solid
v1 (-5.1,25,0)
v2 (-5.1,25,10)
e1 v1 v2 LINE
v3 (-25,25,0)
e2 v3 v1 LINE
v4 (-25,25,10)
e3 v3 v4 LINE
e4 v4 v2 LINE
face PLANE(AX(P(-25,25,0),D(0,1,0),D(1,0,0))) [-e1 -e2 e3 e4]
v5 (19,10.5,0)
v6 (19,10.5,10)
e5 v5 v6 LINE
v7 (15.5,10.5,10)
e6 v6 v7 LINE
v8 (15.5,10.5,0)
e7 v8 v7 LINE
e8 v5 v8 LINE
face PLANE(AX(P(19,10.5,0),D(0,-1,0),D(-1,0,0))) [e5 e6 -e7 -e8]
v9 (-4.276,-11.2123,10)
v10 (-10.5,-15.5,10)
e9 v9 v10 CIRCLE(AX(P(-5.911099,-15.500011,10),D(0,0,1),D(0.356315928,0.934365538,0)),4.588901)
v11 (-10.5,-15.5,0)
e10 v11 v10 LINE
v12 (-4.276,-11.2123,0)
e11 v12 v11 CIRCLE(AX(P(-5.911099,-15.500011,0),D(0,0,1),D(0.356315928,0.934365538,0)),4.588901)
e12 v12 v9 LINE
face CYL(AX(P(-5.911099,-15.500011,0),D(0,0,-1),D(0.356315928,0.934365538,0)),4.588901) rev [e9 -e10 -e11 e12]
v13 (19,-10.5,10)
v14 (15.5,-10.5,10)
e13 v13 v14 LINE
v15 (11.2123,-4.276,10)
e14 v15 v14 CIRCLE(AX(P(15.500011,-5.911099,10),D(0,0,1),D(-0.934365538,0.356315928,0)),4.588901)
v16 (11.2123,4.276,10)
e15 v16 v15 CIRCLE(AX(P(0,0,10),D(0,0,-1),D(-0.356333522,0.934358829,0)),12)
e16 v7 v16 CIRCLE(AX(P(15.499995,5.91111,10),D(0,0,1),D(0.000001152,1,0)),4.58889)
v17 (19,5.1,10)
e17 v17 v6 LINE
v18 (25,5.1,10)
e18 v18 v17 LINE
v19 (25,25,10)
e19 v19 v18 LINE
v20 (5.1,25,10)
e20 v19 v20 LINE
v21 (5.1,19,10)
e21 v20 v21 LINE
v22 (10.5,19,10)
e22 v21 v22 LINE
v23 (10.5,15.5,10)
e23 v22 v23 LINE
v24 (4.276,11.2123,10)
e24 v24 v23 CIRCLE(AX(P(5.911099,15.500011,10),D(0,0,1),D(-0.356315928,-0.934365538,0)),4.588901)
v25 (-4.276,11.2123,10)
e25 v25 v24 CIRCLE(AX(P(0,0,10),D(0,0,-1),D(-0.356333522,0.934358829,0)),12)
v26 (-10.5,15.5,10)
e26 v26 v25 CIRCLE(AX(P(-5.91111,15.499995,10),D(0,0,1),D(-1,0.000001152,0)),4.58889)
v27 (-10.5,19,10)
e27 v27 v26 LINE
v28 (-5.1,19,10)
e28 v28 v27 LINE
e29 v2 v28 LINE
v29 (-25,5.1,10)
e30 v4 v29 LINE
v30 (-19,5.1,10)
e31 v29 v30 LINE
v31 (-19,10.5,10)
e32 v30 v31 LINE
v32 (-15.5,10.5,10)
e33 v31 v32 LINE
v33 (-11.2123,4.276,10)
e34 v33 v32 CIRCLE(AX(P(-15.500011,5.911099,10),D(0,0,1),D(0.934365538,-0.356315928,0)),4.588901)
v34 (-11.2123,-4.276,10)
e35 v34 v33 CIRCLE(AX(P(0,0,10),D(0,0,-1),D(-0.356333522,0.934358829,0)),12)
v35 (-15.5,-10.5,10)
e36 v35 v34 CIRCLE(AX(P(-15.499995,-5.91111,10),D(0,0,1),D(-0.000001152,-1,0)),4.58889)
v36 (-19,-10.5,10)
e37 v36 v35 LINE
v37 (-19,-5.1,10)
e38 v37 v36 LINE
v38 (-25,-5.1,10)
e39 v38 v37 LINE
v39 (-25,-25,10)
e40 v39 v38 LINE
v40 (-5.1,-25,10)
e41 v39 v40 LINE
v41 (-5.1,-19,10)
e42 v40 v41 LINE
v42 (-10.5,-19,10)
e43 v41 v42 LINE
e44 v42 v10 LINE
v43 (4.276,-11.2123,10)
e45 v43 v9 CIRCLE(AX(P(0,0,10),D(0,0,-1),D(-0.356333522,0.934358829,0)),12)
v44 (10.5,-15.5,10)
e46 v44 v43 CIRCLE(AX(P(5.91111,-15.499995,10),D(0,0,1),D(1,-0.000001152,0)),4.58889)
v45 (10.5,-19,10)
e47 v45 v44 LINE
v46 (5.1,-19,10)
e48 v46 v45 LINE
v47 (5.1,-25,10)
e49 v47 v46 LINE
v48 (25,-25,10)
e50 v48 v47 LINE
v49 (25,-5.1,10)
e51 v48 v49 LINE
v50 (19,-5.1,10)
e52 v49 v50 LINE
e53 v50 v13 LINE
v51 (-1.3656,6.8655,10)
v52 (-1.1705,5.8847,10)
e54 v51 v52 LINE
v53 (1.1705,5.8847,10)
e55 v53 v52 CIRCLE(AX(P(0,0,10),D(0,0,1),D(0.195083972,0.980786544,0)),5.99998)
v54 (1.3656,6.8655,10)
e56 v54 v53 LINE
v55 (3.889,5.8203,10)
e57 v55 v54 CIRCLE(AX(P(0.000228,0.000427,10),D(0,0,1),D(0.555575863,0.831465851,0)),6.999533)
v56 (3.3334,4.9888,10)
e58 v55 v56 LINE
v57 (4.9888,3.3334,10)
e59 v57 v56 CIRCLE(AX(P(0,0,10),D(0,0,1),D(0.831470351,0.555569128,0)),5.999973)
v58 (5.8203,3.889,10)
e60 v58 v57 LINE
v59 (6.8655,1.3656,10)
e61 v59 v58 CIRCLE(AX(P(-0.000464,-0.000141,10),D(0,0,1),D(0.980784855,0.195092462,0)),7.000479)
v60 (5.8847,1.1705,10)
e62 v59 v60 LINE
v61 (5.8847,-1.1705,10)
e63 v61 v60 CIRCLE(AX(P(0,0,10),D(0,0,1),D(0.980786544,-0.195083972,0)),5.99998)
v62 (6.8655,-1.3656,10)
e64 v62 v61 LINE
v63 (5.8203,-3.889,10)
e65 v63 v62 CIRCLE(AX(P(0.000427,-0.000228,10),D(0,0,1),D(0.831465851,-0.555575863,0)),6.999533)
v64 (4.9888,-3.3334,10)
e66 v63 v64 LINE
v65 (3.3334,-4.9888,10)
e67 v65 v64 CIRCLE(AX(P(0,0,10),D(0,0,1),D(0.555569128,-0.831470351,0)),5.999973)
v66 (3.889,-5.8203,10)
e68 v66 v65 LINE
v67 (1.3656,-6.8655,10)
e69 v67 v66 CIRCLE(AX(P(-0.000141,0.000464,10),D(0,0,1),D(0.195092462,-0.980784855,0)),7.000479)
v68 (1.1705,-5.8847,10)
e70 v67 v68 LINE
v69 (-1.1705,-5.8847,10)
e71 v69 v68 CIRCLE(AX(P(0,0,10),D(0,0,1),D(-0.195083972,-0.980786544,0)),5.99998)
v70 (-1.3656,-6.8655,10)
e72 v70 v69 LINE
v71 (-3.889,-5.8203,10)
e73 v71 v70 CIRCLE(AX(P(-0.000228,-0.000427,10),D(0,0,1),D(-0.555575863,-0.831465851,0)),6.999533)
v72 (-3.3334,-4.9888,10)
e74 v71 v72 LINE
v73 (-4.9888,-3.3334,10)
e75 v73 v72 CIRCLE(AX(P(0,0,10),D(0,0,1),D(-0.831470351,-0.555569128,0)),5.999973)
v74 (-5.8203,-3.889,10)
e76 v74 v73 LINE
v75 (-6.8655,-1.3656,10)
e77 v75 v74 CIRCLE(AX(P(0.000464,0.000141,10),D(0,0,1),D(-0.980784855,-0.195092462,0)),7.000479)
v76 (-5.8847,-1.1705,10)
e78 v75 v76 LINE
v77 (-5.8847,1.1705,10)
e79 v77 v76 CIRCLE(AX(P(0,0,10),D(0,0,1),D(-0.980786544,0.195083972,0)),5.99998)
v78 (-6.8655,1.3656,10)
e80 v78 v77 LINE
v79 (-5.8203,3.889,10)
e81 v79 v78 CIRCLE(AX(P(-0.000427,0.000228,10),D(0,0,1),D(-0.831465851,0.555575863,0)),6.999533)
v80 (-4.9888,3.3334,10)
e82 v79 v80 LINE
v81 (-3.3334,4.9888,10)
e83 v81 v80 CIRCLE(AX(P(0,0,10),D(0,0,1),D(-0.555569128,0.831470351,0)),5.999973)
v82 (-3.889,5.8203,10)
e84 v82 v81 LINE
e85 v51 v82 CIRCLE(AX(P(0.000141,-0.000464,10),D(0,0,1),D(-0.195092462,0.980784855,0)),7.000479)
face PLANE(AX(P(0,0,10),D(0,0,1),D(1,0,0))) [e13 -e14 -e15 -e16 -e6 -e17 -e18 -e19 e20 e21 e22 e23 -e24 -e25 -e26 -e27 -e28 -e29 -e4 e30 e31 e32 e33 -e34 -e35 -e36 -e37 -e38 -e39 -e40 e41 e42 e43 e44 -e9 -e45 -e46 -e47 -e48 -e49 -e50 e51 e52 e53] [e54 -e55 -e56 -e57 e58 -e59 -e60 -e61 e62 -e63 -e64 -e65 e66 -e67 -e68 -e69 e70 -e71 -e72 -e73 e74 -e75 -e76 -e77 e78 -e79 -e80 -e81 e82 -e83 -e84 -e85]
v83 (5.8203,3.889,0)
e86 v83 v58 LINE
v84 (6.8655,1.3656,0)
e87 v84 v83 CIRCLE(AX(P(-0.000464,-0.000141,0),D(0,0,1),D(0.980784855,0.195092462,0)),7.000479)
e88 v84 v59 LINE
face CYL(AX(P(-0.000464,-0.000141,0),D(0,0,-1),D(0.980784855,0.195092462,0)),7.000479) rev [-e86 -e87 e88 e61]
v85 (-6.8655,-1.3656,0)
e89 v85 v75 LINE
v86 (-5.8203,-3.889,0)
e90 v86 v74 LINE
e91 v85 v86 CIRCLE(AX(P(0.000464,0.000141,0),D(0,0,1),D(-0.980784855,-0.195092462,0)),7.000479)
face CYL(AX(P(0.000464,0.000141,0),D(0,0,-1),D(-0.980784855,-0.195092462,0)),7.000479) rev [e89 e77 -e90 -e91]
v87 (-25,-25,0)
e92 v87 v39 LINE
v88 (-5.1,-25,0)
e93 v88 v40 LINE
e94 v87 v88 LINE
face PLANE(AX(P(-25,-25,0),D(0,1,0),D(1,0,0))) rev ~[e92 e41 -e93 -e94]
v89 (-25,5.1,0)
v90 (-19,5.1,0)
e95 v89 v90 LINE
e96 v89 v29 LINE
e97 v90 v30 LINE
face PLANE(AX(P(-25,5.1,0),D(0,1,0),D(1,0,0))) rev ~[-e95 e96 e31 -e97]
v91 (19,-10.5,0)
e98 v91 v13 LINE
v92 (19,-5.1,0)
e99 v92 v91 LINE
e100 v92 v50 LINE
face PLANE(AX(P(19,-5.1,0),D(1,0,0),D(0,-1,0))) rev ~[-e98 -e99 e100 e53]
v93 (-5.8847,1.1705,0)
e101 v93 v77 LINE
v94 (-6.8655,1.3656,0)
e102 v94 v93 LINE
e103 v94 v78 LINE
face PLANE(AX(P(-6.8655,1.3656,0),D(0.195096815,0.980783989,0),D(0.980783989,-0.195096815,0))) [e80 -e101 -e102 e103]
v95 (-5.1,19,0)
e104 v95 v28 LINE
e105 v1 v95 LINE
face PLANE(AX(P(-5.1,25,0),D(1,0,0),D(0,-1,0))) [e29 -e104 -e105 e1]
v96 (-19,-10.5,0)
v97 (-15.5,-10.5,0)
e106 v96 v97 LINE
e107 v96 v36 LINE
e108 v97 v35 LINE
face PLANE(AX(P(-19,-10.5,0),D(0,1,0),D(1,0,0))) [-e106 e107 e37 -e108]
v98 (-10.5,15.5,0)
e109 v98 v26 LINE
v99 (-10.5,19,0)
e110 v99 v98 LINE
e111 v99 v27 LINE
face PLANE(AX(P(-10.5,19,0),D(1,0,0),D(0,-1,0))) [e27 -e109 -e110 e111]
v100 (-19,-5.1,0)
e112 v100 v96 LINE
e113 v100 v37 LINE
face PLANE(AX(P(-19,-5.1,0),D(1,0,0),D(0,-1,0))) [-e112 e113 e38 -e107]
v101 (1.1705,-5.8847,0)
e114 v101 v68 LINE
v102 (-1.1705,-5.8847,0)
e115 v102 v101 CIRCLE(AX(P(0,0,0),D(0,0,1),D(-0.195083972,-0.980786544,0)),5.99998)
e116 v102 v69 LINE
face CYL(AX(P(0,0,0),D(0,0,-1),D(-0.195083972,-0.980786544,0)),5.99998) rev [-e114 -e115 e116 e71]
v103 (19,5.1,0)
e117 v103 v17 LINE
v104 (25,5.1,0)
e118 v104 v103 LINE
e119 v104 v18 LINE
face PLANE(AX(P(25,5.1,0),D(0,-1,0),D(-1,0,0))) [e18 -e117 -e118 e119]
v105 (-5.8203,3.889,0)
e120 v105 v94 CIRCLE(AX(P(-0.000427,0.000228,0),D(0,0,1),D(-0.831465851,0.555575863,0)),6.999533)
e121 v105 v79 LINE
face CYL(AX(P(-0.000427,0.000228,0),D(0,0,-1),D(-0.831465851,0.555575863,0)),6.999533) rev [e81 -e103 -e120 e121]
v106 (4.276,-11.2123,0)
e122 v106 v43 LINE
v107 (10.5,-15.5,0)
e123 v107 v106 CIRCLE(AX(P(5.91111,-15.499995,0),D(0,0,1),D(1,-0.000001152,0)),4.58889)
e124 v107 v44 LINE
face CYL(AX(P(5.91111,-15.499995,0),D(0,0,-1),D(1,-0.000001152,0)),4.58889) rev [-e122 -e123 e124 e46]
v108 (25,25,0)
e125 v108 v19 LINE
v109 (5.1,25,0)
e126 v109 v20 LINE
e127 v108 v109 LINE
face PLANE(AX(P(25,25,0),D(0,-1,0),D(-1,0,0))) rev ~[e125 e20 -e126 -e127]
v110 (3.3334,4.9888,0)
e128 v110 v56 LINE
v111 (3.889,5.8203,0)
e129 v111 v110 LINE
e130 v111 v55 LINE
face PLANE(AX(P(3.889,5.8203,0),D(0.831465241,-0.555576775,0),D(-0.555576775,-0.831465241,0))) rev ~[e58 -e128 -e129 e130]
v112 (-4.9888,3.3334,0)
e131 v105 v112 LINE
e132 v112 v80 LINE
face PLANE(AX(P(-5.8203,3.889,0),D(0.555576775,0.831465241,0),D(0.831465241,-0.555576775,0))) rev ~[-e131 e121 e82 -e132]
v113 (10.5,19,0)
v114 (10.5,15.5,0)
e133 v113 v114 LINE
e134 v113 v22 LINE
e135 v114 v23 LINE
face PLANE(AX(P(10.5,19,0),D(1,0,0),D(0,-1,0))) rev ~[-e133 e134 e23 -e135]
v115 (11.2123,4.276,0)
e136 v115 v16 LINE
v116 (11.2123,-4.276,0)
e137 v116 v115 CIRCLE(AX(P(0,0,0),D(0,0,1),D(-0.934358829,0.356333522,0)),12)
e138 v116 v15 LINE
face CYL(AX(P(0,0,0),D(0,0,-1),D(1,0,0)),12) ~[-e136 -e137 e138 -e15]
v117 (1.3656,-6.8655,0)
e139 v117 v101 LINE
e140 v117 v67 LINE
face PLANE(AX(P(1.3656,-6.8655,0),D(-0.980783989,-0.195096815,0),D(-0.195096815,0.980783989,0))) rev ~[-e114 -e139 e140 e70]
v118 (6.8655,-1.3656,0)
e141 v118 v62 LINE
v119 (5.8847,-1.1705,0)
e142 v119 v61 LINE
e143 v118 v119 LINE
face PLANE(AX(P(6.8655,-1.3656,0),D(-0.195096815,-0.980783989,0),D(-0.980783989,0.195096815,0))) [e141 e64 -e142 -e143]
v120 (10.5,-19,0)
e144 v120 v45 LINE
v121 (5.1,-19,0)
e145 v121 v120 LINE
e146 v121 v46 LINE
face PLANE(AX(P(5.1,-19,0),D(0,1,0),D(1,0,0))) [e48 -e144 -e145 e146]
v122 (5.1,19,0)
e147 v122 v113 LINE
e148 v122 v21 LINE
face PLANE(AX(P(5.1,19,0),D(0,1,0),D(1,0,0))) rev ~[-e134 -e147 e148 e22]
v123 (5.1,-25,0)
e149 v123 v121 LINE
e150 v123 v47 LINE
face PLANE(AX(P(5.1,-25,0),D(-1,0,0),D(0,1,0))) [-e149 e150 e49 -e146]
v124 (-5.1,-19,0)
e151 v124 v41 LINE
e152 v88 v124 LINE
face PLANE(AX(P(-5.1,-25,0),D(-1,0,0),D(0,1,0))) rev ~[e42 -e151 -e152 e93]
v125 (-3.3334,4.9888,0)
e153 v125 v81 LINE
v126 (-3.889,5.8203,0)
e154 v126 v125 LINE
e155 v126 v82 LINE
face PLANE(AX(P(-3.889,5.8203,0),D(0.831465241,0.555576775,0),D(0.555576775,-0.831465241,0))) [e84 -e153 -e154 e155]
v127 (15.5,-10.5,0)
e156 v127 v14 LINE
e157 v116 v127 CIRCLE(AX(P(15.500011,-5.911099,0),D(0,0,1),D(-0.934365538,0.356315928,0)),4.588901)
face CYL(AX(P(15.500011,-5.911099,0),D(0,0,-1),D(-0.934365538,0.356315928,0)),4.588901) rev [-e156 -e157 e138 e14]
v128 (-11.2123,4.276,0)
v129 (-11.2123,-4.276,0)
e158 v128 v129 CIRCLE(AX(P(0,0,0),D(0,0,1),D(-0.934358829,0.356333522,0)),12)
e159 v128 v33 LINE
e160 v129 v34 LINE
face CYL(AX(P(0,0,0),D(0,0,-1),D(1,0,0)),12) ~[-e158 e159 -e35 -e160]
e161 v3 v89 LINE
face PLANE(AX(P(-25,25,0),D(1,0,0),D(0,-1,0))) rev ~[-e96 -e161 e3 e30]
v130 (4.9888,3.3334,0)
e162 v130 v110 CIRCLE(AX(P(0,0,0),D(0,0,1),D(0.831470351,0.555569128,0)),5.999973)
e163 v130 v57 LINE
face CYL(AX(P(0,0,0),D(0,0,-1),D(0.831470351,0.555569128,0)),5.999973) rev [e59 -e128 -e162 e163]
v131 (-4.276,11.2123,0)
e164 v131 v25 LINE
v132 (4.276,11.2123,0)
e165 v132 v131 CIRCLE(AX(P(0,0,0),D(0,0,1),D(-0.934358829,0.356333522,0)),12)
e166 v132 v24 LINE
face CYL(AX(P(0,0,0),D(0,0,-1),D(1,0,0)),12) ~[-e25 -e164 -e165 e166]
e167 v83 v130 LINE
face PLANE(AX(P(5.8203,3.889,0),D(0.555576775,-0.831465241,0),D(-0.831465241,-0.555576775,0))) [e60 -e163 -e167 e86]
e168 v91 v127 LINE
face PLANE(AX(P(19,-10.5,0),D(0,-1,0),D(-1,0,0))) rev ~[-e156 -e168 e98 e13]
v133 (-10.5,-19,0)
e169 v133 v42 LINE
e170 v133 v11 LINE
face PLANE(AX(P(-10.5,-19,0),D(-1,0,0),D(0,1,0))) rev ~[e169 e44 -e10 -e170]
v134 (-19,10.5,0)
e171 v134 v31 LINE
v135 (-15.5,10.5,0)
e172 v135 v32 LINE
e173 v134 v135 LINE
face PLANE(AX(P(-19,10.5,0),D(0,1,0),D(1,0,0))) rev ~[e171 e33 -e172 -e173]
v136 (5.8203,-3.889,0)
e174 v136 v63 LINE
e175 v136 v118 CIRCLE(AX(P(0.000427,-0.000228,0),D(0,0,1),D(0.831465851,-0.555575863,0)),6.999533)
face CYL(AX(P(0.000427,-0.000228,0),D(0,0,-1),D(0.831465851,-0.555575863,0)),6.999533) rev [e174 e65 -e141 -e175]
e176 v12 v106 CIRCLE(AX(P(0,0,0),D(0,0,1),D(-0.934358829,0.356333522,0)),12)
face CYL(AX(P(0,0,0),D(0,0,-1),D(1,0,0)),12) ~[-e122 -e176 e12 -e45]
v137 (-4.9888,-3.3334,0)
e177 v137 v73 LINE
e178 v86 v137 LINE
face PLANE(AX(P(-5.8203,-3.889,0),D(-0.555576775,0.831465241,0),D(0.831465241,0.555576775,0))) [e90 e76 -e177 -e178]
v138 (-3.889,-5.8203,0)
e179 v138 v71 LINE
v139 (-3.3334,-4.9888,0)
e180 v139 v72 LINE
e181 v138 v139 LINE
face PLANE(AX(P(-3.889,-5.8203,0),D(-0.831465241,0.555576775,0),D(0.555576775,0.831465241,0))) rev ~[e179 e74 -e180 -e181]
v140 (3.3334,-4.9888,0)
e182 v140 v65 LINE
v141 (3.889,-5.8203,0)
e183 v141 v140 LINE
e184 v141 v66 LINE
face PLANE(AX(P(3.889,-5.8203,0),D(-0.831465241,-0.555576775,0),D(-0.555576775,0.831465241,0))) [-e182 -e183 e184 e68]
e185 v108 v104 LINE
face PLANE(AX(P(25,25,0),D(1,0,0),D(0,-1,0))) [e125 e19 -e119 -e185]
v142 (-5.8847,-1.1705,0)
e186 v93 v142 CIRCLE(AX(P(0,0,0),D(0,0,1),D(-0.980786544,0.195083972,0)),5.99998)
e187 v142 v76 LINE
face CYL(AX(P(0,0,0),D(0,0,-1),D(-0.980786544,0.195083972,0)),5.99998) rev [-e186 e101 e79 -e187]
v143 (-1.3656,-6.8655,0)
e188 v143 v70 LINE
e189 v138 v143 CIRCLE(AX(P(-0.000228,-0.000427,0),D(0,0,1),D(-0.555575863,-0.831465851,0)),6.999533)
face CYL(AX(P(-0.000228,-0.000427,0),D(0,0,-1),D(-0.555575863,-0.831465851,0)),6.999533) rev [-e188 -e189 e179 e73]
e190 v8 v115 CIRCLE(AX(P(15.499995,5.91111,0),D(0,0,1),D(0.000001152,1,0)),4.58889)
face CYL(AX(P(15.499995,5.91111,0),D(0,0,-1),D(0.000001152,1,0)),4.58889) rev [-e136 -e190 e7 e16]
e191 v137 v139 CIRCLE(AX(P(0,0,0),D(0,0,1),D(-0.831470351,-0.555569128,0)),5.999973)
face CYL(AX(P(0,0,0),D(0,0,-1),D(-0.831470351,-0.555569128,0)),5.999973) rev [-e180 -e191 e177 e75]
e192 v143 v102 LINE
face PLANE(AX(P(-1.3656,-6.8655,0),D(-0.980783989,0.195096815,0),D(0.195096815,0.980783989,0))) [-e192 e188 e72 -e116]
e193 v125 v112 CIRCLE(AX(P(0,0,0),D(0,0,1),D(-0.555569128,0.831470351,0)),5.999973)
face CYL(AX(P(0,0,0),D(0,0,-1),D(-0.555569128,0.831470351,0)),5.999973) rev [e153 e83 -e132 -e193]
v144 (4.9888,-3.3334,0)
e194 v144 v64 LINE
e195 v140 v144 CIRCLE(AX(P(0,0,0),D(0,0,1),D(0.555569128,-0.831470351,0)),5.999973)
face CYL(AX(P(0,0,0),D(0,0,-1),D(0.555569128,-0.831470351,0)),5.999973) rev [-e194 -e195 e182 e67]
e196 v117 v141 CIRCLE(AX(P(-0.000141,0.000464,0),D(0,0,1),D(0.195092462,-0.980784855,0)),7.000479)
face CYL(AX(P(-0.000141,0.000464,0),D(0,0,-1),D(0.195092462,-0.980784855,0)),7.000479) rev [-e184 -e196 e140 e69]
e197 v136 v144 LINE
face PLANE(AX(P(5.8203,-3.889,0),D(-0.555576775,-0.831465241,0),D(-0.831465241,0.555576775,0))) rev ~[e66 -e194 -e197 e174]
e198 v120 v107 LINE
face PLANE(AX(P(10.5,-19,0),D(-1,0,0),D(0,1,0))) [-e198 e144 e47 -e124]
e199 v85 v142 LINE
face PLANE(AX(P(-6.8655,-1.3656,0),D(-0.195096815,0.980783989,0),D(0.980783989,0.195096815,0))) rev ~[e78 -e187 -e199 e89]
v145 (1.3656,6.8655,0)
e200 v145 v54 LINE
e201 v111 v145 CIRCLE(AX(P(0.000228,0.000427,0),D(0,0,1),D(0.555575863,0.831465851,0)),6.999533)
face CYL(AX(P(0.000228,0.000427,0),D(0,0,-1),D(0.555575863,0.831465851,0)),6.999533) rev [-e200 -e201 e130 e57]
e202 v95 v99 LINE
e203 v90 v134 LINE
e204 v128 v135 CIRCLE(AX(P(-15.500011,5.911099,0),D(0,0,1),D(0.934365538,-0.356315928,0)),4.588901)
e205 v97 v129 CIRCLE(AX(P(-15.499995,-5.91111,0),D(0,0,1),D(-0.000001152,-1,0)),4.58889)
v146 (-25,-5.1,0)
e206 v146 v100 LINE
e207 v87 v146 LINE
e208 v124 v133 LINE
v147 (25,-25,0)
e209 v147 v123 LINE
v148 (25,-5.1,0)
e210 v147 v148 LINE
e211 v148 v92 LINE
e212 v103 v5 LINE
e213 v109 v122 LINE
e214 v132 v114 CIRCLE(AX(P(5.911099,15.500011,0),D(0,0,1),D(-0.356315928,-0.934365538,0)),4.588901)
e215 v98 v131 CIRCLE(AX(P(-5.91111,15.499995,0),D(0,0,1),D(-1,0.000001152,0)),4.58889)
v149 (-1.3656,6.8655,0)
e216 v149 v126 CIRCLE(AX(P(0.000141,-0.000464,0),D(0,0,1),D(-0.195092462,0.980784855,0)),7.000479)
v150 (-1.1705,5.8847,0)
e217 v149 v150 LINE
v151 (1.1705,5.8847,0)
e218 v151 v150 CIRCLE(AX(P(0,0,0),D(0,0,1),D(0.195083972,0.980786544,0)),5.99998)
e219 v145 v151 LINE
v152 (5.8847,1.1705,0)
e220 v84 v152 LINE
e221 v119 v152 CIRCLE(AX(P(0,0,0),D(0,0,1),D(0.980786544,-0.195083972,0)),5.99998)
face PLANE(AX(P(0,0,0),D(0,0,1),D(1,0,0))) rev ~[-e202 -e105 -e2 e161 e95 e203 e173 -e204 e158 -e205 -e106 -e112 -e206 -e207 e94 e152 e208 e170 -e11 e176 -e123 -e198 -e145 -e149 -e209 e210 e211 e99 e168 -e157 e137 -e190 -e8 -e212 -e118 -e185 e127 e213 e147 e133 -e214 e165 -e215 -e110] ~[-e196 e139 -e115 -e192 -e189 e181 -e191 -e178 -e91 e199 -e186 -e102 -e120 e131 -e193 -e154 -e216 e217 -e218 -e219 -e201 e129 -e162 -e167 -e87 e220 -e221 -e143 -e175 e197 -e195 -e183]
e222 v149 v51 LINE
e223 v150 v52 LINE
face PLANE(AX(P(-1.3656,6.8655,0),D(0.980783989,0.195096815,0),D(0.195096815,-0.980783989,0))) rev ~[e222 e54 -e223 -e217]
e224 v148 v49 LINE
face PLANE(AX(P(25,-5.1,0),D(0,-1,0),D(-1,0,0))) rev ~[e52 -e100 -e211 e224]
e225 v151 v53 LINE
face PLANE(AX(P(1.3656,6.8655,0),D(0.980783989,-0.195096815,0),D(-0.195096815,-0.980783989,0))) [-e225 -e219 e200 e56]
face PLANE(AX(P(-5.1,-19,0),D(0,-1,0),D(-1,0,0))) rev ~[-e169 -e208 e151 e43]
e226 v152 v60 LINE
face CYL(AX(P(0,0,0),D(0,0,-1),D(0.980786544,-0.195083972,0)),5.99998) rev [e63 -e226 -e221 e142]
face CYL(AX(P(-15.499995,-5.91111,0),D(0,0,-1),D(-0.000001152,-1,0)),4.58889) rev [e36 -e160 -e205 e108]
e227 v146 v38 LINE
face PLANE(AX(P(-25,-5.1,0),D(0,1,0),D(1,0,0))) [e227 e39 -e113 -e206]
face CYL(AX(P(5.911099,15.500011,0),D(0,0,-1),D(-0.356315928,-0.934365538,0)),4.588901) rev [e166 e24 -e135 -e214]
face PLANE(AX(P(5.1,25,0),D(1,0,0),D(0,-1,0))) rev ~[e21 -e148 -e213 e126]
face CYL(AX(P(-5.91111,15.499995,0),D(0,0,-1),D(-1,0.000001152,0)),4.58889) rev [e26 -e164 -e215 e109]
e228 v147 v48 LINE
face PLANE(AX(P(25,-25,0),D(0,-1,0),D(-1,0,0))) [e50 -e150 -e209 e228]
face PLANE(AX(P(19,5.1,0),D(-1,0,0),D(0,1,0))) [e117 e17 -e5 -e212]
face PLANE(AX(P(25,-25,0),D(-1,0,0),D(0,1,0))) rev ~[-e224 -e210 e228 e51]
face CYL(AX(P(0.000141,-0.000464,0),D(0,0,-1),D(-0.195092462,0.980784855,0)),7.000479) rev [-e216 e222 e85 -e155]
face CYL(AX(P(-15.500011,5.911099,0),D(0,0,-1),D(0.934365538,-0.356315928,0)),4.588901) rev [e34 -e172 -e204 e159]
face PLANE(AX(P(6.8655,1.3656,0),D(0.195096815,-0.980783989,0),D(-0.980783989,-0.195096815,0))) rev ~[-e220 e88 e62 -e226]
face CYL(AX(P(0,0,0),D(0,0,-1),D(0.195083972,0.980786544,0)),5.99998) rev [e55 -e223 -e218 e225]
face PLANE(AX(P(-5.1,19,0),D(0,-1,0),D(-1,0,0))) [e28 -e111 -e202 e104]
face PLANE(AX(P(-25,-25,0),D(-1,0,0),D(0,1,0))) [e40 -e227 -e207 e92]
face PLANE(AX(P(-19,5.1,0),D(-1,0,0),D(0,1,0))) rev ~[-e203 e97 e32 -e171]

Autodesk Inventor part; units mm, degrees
ref_plane "YZ Plane" through (0, 0, 0) normal (1, 0, 0) x (0, 1, 0)
ref_plane "XZ Plane" through (0, 0, 0) normal (0, 1, 0) x (-1, 0, 0)
ref_plane "XY Plane" through (0, 0, 0) normal (0, 0, 1) x (1, 0, 0)
sketch "Sketch2" plane through (0, 0, 0) normal (0, 0, 1) x (1, 0, 0)
  line L0 (0, 0) -> (0, 6) construction
  circle A0 centre (0, 0) radius 6 construction
  circle A1 centre (0, 0) radius 7 construction
  arc A2 (1.1705, 5.8847) -> (-1.1705, 5.8847) centre (0, 0) ccw
  line L1 (-1.3656, 6.8655) -> (0, 0) construction
  line L2 (-1.3656, 6.8655) -> (-1.1705, 5.8847)
  arc A3 (-1.3656, 6.8655) -> (-3.889, 5.8203) centre (0, 0) ccw
  line L3 (0, 0) -> (-3.889, 5.8203) construction
  line L4 (-3.889, 5.8203) -> (-3.3334, 4.9888)
  line L5 (-6.8655, 1.3656) -> (-5.8847, 1.1705)
  arc A4 (-5.8203, 3.889) -> (-6.8655, 1.3656) centre (0, 0) ccw
  line L6 (-5.8203, 3.889) -> (-4.9888, 3.3334)
  arc A5 (-3.3334, 4.9888) -> (-4.9888, 3.3334) centre (0, 0) ccw
  line L7 (-5.8203, -3.889) -> (-4.9888, -3.3334)
  arc A6 (-6.8655, -1.3656) -> (-5.8203, -3.889) centre (0, 0) ccw
  line L8 (-6.8655, -1.3656) -> (-5.8847, -1.1705)
  arc A7 (-5.8847, 1.1705) -> (-5.8847, -1.1705) centre (0, 0) ccw
  line L9 (-1.3656, -6.8655) -> (-1.1705, -5.8847)
  arc A8 (-3.889, -5.8203) -> (-1.3656, -6.8655) centre (0, 0) ccw
  line L10 (-3.889, -5.8203) -> (-3.3334, -4.9888)
  arc A9 (-4.9888, -3.3334) -> (-3.3334, -4.9888) centre (0, 0) ccw
  line L11 (3.889, -5.8203) -> (3.3334, -4.9888)
  arc A10 (1.3656, -6.8655) -> (3.889, -5.8203) centre (0, 0) ccw
  line L12 (1.3656, -6.8655) -> (1.1705, -5.8847)
  arc A11 (-1.1705, -5.8847) -> (1.1705, -5.8847) centre (0, 0) ccw
  line L13 (6.8655, -1.3656) -> (5.8847, -1.1705)
  arc A12 (5.8203, -3.889) -> (6.8655, -1.3656) centre (0, 0) ccw
  line L14 (5.8203, -3.889) -> (4.9888, -3.3334)
  arc A13 (3.3334, -4.9888) -> (4.9888, -3.3334) centre (0, 0) ccw
  line L15 (5.8203, 3.889) -> (4.9888, 3.3334)
  arc A14 (6.8655, 1.3656) -> (5.8203, 3.889) centre (0, 0) ccw
  line L16 (6.8655, 1.3656) -> (5.8847, 1.1705)
  arc A15 (5.8847, -1.1705) -> (5.8847, 1.1705) centre (0, 0) ccw
  line L17 (1.3656, 6.8655) -> (1.1705, 5.8847)
  arc A16 (3.889, 5.8203) -> (1.3656, 6.8655) centre (0, 0) ccw
  line L18 (3.889, 5.8203) -> (3.3334, 4.9888)
  arc A17 (4.9888, 3.3334) -> (3.3334, 4.9888) centre (0, 0) ccw
  circle A18 centre (0, 0) radius 12
  line L19 (-20.9, 20.9) -> (-14.1, 20.9) construction
  line L20 (-14.1, 20.9) -> (-14.1, 14.1) construction
  line L21 (-14.1, 14.1) -> (-20.9, 14.1) construction
  line L22 (-20.9, 14.1) -> (-20.9, 20.9) construction
  line L23 (-20.9, 20.9) -> (-14.1, 14.1) construction
  line L24 (-14.1, 20.9) -> (-20.9, 14.1) construction
  line L25 (-21.5, 13.5) -> (-13.5, 13.5) construction
  line L26 (-13.5, 13.5) -> (-13.5, 21.5) construction
  line L27 (-13.5, 21.5) -> (-21.5, 21.5) construction
  line L28 (-21.5, 21.5) -> (-21.5, 13.5) construction
  line L29 (-21.5, 13.5) -> (-13.5, 21.5) construction
  line L30 (-13.5, 13.5) -> (-21.5, 21.5) construction
  line L31 (-19, 20.9) -> (-16, 20.9)
  line L32 (-19, 20.9) -> (-19, 21.5)
  line L33 (-25, 25) -> (-25, 5.1)
  line L34 (-25, 25) -> (-5.1, 25)
  line L35 (-25, 5.1) -> (-19, 5.1)
  line L36 (-19, 5.1) -> (-19, 10.5)
  line L37 (-19, 10.5) -> (-12, 10.5) construction
  line L38 (-12, 0) -> (-12, 10.5) construction
  arc A19 (-11.2123, 4.276) -> (-15.5, 10.5) centre (-15.5, 5.9111) ccw
  line L39 (-19, 10.5) -> (-15.5, 10.5)
  line L40 (-5.1, 25) -> (-5.1, 19)
  line L41 (-5.1, 19) -> (-10.5, 19)
  line L42 (-10.5, 19) -> (-10.5, 15.5)
  arc A20 (-10.5, 15.5) -> (-4.276, 11.2123) centre (-5.9111, 15.5) ccw
  point P0 (-4.2426, 4.2426)
  point P1 (-6, 0)
  point P2 (-4.2426, -4.2426)
  point P3 (0, -6)
  point P4 (4.2426, -4.2426)
  point P5 (6, 0)
  point P6 (4.2426, 4.2426)
  point P7 (-5.8847, 1.1705)
  point P8 (-3.3334, 4.9888)
  point P9 (1.1705, 5.8847)
  point P10 (4.9888, 3.3334)
  point P11 (-1.1705, -5.8847)
  point P12 (-4.9888, -3.3334)
  point P13 (-17.5, 17.5)
  point P14 (-17.5, 20.9)
  dimension "d1" = 14
  dimension "d2" = 12
  dimension "d7" = 360
  dimension "d10" = 22.5
  dimension "d11" = 24
  dimension "d14" = 17.5
  dimension "d15" = 17.5
  dimension "d16" = 6.8
  dimension "d17" = 8
  dimension "d18" = 3
  dimension "d19" = 25
  dimension "d20" = 5.1
  dimension "d21" = 25
  dimension "d22" = 6
  dimension "d23" = 3
extrude "Extrusion1" add sketch "Sketch2" along normal blind 10 contours A18
extrude "Extrusion2" add sketch "Sketch2" along normal blind 10 contours A18 A19 L39 L36 L35 L33 L34 L40 L41 L42 A20
pattern_circular "Circular Pattern2" count 4 over 360 about axis through (0, 0, 0) along (0, 0, 1) of "Extrusion2"
equation "\"d15\" = d14"
equation "\"d21\" = d19"
properties part number "Perfil-de-aluminio-0001-002" material "Aluminum 6061"
